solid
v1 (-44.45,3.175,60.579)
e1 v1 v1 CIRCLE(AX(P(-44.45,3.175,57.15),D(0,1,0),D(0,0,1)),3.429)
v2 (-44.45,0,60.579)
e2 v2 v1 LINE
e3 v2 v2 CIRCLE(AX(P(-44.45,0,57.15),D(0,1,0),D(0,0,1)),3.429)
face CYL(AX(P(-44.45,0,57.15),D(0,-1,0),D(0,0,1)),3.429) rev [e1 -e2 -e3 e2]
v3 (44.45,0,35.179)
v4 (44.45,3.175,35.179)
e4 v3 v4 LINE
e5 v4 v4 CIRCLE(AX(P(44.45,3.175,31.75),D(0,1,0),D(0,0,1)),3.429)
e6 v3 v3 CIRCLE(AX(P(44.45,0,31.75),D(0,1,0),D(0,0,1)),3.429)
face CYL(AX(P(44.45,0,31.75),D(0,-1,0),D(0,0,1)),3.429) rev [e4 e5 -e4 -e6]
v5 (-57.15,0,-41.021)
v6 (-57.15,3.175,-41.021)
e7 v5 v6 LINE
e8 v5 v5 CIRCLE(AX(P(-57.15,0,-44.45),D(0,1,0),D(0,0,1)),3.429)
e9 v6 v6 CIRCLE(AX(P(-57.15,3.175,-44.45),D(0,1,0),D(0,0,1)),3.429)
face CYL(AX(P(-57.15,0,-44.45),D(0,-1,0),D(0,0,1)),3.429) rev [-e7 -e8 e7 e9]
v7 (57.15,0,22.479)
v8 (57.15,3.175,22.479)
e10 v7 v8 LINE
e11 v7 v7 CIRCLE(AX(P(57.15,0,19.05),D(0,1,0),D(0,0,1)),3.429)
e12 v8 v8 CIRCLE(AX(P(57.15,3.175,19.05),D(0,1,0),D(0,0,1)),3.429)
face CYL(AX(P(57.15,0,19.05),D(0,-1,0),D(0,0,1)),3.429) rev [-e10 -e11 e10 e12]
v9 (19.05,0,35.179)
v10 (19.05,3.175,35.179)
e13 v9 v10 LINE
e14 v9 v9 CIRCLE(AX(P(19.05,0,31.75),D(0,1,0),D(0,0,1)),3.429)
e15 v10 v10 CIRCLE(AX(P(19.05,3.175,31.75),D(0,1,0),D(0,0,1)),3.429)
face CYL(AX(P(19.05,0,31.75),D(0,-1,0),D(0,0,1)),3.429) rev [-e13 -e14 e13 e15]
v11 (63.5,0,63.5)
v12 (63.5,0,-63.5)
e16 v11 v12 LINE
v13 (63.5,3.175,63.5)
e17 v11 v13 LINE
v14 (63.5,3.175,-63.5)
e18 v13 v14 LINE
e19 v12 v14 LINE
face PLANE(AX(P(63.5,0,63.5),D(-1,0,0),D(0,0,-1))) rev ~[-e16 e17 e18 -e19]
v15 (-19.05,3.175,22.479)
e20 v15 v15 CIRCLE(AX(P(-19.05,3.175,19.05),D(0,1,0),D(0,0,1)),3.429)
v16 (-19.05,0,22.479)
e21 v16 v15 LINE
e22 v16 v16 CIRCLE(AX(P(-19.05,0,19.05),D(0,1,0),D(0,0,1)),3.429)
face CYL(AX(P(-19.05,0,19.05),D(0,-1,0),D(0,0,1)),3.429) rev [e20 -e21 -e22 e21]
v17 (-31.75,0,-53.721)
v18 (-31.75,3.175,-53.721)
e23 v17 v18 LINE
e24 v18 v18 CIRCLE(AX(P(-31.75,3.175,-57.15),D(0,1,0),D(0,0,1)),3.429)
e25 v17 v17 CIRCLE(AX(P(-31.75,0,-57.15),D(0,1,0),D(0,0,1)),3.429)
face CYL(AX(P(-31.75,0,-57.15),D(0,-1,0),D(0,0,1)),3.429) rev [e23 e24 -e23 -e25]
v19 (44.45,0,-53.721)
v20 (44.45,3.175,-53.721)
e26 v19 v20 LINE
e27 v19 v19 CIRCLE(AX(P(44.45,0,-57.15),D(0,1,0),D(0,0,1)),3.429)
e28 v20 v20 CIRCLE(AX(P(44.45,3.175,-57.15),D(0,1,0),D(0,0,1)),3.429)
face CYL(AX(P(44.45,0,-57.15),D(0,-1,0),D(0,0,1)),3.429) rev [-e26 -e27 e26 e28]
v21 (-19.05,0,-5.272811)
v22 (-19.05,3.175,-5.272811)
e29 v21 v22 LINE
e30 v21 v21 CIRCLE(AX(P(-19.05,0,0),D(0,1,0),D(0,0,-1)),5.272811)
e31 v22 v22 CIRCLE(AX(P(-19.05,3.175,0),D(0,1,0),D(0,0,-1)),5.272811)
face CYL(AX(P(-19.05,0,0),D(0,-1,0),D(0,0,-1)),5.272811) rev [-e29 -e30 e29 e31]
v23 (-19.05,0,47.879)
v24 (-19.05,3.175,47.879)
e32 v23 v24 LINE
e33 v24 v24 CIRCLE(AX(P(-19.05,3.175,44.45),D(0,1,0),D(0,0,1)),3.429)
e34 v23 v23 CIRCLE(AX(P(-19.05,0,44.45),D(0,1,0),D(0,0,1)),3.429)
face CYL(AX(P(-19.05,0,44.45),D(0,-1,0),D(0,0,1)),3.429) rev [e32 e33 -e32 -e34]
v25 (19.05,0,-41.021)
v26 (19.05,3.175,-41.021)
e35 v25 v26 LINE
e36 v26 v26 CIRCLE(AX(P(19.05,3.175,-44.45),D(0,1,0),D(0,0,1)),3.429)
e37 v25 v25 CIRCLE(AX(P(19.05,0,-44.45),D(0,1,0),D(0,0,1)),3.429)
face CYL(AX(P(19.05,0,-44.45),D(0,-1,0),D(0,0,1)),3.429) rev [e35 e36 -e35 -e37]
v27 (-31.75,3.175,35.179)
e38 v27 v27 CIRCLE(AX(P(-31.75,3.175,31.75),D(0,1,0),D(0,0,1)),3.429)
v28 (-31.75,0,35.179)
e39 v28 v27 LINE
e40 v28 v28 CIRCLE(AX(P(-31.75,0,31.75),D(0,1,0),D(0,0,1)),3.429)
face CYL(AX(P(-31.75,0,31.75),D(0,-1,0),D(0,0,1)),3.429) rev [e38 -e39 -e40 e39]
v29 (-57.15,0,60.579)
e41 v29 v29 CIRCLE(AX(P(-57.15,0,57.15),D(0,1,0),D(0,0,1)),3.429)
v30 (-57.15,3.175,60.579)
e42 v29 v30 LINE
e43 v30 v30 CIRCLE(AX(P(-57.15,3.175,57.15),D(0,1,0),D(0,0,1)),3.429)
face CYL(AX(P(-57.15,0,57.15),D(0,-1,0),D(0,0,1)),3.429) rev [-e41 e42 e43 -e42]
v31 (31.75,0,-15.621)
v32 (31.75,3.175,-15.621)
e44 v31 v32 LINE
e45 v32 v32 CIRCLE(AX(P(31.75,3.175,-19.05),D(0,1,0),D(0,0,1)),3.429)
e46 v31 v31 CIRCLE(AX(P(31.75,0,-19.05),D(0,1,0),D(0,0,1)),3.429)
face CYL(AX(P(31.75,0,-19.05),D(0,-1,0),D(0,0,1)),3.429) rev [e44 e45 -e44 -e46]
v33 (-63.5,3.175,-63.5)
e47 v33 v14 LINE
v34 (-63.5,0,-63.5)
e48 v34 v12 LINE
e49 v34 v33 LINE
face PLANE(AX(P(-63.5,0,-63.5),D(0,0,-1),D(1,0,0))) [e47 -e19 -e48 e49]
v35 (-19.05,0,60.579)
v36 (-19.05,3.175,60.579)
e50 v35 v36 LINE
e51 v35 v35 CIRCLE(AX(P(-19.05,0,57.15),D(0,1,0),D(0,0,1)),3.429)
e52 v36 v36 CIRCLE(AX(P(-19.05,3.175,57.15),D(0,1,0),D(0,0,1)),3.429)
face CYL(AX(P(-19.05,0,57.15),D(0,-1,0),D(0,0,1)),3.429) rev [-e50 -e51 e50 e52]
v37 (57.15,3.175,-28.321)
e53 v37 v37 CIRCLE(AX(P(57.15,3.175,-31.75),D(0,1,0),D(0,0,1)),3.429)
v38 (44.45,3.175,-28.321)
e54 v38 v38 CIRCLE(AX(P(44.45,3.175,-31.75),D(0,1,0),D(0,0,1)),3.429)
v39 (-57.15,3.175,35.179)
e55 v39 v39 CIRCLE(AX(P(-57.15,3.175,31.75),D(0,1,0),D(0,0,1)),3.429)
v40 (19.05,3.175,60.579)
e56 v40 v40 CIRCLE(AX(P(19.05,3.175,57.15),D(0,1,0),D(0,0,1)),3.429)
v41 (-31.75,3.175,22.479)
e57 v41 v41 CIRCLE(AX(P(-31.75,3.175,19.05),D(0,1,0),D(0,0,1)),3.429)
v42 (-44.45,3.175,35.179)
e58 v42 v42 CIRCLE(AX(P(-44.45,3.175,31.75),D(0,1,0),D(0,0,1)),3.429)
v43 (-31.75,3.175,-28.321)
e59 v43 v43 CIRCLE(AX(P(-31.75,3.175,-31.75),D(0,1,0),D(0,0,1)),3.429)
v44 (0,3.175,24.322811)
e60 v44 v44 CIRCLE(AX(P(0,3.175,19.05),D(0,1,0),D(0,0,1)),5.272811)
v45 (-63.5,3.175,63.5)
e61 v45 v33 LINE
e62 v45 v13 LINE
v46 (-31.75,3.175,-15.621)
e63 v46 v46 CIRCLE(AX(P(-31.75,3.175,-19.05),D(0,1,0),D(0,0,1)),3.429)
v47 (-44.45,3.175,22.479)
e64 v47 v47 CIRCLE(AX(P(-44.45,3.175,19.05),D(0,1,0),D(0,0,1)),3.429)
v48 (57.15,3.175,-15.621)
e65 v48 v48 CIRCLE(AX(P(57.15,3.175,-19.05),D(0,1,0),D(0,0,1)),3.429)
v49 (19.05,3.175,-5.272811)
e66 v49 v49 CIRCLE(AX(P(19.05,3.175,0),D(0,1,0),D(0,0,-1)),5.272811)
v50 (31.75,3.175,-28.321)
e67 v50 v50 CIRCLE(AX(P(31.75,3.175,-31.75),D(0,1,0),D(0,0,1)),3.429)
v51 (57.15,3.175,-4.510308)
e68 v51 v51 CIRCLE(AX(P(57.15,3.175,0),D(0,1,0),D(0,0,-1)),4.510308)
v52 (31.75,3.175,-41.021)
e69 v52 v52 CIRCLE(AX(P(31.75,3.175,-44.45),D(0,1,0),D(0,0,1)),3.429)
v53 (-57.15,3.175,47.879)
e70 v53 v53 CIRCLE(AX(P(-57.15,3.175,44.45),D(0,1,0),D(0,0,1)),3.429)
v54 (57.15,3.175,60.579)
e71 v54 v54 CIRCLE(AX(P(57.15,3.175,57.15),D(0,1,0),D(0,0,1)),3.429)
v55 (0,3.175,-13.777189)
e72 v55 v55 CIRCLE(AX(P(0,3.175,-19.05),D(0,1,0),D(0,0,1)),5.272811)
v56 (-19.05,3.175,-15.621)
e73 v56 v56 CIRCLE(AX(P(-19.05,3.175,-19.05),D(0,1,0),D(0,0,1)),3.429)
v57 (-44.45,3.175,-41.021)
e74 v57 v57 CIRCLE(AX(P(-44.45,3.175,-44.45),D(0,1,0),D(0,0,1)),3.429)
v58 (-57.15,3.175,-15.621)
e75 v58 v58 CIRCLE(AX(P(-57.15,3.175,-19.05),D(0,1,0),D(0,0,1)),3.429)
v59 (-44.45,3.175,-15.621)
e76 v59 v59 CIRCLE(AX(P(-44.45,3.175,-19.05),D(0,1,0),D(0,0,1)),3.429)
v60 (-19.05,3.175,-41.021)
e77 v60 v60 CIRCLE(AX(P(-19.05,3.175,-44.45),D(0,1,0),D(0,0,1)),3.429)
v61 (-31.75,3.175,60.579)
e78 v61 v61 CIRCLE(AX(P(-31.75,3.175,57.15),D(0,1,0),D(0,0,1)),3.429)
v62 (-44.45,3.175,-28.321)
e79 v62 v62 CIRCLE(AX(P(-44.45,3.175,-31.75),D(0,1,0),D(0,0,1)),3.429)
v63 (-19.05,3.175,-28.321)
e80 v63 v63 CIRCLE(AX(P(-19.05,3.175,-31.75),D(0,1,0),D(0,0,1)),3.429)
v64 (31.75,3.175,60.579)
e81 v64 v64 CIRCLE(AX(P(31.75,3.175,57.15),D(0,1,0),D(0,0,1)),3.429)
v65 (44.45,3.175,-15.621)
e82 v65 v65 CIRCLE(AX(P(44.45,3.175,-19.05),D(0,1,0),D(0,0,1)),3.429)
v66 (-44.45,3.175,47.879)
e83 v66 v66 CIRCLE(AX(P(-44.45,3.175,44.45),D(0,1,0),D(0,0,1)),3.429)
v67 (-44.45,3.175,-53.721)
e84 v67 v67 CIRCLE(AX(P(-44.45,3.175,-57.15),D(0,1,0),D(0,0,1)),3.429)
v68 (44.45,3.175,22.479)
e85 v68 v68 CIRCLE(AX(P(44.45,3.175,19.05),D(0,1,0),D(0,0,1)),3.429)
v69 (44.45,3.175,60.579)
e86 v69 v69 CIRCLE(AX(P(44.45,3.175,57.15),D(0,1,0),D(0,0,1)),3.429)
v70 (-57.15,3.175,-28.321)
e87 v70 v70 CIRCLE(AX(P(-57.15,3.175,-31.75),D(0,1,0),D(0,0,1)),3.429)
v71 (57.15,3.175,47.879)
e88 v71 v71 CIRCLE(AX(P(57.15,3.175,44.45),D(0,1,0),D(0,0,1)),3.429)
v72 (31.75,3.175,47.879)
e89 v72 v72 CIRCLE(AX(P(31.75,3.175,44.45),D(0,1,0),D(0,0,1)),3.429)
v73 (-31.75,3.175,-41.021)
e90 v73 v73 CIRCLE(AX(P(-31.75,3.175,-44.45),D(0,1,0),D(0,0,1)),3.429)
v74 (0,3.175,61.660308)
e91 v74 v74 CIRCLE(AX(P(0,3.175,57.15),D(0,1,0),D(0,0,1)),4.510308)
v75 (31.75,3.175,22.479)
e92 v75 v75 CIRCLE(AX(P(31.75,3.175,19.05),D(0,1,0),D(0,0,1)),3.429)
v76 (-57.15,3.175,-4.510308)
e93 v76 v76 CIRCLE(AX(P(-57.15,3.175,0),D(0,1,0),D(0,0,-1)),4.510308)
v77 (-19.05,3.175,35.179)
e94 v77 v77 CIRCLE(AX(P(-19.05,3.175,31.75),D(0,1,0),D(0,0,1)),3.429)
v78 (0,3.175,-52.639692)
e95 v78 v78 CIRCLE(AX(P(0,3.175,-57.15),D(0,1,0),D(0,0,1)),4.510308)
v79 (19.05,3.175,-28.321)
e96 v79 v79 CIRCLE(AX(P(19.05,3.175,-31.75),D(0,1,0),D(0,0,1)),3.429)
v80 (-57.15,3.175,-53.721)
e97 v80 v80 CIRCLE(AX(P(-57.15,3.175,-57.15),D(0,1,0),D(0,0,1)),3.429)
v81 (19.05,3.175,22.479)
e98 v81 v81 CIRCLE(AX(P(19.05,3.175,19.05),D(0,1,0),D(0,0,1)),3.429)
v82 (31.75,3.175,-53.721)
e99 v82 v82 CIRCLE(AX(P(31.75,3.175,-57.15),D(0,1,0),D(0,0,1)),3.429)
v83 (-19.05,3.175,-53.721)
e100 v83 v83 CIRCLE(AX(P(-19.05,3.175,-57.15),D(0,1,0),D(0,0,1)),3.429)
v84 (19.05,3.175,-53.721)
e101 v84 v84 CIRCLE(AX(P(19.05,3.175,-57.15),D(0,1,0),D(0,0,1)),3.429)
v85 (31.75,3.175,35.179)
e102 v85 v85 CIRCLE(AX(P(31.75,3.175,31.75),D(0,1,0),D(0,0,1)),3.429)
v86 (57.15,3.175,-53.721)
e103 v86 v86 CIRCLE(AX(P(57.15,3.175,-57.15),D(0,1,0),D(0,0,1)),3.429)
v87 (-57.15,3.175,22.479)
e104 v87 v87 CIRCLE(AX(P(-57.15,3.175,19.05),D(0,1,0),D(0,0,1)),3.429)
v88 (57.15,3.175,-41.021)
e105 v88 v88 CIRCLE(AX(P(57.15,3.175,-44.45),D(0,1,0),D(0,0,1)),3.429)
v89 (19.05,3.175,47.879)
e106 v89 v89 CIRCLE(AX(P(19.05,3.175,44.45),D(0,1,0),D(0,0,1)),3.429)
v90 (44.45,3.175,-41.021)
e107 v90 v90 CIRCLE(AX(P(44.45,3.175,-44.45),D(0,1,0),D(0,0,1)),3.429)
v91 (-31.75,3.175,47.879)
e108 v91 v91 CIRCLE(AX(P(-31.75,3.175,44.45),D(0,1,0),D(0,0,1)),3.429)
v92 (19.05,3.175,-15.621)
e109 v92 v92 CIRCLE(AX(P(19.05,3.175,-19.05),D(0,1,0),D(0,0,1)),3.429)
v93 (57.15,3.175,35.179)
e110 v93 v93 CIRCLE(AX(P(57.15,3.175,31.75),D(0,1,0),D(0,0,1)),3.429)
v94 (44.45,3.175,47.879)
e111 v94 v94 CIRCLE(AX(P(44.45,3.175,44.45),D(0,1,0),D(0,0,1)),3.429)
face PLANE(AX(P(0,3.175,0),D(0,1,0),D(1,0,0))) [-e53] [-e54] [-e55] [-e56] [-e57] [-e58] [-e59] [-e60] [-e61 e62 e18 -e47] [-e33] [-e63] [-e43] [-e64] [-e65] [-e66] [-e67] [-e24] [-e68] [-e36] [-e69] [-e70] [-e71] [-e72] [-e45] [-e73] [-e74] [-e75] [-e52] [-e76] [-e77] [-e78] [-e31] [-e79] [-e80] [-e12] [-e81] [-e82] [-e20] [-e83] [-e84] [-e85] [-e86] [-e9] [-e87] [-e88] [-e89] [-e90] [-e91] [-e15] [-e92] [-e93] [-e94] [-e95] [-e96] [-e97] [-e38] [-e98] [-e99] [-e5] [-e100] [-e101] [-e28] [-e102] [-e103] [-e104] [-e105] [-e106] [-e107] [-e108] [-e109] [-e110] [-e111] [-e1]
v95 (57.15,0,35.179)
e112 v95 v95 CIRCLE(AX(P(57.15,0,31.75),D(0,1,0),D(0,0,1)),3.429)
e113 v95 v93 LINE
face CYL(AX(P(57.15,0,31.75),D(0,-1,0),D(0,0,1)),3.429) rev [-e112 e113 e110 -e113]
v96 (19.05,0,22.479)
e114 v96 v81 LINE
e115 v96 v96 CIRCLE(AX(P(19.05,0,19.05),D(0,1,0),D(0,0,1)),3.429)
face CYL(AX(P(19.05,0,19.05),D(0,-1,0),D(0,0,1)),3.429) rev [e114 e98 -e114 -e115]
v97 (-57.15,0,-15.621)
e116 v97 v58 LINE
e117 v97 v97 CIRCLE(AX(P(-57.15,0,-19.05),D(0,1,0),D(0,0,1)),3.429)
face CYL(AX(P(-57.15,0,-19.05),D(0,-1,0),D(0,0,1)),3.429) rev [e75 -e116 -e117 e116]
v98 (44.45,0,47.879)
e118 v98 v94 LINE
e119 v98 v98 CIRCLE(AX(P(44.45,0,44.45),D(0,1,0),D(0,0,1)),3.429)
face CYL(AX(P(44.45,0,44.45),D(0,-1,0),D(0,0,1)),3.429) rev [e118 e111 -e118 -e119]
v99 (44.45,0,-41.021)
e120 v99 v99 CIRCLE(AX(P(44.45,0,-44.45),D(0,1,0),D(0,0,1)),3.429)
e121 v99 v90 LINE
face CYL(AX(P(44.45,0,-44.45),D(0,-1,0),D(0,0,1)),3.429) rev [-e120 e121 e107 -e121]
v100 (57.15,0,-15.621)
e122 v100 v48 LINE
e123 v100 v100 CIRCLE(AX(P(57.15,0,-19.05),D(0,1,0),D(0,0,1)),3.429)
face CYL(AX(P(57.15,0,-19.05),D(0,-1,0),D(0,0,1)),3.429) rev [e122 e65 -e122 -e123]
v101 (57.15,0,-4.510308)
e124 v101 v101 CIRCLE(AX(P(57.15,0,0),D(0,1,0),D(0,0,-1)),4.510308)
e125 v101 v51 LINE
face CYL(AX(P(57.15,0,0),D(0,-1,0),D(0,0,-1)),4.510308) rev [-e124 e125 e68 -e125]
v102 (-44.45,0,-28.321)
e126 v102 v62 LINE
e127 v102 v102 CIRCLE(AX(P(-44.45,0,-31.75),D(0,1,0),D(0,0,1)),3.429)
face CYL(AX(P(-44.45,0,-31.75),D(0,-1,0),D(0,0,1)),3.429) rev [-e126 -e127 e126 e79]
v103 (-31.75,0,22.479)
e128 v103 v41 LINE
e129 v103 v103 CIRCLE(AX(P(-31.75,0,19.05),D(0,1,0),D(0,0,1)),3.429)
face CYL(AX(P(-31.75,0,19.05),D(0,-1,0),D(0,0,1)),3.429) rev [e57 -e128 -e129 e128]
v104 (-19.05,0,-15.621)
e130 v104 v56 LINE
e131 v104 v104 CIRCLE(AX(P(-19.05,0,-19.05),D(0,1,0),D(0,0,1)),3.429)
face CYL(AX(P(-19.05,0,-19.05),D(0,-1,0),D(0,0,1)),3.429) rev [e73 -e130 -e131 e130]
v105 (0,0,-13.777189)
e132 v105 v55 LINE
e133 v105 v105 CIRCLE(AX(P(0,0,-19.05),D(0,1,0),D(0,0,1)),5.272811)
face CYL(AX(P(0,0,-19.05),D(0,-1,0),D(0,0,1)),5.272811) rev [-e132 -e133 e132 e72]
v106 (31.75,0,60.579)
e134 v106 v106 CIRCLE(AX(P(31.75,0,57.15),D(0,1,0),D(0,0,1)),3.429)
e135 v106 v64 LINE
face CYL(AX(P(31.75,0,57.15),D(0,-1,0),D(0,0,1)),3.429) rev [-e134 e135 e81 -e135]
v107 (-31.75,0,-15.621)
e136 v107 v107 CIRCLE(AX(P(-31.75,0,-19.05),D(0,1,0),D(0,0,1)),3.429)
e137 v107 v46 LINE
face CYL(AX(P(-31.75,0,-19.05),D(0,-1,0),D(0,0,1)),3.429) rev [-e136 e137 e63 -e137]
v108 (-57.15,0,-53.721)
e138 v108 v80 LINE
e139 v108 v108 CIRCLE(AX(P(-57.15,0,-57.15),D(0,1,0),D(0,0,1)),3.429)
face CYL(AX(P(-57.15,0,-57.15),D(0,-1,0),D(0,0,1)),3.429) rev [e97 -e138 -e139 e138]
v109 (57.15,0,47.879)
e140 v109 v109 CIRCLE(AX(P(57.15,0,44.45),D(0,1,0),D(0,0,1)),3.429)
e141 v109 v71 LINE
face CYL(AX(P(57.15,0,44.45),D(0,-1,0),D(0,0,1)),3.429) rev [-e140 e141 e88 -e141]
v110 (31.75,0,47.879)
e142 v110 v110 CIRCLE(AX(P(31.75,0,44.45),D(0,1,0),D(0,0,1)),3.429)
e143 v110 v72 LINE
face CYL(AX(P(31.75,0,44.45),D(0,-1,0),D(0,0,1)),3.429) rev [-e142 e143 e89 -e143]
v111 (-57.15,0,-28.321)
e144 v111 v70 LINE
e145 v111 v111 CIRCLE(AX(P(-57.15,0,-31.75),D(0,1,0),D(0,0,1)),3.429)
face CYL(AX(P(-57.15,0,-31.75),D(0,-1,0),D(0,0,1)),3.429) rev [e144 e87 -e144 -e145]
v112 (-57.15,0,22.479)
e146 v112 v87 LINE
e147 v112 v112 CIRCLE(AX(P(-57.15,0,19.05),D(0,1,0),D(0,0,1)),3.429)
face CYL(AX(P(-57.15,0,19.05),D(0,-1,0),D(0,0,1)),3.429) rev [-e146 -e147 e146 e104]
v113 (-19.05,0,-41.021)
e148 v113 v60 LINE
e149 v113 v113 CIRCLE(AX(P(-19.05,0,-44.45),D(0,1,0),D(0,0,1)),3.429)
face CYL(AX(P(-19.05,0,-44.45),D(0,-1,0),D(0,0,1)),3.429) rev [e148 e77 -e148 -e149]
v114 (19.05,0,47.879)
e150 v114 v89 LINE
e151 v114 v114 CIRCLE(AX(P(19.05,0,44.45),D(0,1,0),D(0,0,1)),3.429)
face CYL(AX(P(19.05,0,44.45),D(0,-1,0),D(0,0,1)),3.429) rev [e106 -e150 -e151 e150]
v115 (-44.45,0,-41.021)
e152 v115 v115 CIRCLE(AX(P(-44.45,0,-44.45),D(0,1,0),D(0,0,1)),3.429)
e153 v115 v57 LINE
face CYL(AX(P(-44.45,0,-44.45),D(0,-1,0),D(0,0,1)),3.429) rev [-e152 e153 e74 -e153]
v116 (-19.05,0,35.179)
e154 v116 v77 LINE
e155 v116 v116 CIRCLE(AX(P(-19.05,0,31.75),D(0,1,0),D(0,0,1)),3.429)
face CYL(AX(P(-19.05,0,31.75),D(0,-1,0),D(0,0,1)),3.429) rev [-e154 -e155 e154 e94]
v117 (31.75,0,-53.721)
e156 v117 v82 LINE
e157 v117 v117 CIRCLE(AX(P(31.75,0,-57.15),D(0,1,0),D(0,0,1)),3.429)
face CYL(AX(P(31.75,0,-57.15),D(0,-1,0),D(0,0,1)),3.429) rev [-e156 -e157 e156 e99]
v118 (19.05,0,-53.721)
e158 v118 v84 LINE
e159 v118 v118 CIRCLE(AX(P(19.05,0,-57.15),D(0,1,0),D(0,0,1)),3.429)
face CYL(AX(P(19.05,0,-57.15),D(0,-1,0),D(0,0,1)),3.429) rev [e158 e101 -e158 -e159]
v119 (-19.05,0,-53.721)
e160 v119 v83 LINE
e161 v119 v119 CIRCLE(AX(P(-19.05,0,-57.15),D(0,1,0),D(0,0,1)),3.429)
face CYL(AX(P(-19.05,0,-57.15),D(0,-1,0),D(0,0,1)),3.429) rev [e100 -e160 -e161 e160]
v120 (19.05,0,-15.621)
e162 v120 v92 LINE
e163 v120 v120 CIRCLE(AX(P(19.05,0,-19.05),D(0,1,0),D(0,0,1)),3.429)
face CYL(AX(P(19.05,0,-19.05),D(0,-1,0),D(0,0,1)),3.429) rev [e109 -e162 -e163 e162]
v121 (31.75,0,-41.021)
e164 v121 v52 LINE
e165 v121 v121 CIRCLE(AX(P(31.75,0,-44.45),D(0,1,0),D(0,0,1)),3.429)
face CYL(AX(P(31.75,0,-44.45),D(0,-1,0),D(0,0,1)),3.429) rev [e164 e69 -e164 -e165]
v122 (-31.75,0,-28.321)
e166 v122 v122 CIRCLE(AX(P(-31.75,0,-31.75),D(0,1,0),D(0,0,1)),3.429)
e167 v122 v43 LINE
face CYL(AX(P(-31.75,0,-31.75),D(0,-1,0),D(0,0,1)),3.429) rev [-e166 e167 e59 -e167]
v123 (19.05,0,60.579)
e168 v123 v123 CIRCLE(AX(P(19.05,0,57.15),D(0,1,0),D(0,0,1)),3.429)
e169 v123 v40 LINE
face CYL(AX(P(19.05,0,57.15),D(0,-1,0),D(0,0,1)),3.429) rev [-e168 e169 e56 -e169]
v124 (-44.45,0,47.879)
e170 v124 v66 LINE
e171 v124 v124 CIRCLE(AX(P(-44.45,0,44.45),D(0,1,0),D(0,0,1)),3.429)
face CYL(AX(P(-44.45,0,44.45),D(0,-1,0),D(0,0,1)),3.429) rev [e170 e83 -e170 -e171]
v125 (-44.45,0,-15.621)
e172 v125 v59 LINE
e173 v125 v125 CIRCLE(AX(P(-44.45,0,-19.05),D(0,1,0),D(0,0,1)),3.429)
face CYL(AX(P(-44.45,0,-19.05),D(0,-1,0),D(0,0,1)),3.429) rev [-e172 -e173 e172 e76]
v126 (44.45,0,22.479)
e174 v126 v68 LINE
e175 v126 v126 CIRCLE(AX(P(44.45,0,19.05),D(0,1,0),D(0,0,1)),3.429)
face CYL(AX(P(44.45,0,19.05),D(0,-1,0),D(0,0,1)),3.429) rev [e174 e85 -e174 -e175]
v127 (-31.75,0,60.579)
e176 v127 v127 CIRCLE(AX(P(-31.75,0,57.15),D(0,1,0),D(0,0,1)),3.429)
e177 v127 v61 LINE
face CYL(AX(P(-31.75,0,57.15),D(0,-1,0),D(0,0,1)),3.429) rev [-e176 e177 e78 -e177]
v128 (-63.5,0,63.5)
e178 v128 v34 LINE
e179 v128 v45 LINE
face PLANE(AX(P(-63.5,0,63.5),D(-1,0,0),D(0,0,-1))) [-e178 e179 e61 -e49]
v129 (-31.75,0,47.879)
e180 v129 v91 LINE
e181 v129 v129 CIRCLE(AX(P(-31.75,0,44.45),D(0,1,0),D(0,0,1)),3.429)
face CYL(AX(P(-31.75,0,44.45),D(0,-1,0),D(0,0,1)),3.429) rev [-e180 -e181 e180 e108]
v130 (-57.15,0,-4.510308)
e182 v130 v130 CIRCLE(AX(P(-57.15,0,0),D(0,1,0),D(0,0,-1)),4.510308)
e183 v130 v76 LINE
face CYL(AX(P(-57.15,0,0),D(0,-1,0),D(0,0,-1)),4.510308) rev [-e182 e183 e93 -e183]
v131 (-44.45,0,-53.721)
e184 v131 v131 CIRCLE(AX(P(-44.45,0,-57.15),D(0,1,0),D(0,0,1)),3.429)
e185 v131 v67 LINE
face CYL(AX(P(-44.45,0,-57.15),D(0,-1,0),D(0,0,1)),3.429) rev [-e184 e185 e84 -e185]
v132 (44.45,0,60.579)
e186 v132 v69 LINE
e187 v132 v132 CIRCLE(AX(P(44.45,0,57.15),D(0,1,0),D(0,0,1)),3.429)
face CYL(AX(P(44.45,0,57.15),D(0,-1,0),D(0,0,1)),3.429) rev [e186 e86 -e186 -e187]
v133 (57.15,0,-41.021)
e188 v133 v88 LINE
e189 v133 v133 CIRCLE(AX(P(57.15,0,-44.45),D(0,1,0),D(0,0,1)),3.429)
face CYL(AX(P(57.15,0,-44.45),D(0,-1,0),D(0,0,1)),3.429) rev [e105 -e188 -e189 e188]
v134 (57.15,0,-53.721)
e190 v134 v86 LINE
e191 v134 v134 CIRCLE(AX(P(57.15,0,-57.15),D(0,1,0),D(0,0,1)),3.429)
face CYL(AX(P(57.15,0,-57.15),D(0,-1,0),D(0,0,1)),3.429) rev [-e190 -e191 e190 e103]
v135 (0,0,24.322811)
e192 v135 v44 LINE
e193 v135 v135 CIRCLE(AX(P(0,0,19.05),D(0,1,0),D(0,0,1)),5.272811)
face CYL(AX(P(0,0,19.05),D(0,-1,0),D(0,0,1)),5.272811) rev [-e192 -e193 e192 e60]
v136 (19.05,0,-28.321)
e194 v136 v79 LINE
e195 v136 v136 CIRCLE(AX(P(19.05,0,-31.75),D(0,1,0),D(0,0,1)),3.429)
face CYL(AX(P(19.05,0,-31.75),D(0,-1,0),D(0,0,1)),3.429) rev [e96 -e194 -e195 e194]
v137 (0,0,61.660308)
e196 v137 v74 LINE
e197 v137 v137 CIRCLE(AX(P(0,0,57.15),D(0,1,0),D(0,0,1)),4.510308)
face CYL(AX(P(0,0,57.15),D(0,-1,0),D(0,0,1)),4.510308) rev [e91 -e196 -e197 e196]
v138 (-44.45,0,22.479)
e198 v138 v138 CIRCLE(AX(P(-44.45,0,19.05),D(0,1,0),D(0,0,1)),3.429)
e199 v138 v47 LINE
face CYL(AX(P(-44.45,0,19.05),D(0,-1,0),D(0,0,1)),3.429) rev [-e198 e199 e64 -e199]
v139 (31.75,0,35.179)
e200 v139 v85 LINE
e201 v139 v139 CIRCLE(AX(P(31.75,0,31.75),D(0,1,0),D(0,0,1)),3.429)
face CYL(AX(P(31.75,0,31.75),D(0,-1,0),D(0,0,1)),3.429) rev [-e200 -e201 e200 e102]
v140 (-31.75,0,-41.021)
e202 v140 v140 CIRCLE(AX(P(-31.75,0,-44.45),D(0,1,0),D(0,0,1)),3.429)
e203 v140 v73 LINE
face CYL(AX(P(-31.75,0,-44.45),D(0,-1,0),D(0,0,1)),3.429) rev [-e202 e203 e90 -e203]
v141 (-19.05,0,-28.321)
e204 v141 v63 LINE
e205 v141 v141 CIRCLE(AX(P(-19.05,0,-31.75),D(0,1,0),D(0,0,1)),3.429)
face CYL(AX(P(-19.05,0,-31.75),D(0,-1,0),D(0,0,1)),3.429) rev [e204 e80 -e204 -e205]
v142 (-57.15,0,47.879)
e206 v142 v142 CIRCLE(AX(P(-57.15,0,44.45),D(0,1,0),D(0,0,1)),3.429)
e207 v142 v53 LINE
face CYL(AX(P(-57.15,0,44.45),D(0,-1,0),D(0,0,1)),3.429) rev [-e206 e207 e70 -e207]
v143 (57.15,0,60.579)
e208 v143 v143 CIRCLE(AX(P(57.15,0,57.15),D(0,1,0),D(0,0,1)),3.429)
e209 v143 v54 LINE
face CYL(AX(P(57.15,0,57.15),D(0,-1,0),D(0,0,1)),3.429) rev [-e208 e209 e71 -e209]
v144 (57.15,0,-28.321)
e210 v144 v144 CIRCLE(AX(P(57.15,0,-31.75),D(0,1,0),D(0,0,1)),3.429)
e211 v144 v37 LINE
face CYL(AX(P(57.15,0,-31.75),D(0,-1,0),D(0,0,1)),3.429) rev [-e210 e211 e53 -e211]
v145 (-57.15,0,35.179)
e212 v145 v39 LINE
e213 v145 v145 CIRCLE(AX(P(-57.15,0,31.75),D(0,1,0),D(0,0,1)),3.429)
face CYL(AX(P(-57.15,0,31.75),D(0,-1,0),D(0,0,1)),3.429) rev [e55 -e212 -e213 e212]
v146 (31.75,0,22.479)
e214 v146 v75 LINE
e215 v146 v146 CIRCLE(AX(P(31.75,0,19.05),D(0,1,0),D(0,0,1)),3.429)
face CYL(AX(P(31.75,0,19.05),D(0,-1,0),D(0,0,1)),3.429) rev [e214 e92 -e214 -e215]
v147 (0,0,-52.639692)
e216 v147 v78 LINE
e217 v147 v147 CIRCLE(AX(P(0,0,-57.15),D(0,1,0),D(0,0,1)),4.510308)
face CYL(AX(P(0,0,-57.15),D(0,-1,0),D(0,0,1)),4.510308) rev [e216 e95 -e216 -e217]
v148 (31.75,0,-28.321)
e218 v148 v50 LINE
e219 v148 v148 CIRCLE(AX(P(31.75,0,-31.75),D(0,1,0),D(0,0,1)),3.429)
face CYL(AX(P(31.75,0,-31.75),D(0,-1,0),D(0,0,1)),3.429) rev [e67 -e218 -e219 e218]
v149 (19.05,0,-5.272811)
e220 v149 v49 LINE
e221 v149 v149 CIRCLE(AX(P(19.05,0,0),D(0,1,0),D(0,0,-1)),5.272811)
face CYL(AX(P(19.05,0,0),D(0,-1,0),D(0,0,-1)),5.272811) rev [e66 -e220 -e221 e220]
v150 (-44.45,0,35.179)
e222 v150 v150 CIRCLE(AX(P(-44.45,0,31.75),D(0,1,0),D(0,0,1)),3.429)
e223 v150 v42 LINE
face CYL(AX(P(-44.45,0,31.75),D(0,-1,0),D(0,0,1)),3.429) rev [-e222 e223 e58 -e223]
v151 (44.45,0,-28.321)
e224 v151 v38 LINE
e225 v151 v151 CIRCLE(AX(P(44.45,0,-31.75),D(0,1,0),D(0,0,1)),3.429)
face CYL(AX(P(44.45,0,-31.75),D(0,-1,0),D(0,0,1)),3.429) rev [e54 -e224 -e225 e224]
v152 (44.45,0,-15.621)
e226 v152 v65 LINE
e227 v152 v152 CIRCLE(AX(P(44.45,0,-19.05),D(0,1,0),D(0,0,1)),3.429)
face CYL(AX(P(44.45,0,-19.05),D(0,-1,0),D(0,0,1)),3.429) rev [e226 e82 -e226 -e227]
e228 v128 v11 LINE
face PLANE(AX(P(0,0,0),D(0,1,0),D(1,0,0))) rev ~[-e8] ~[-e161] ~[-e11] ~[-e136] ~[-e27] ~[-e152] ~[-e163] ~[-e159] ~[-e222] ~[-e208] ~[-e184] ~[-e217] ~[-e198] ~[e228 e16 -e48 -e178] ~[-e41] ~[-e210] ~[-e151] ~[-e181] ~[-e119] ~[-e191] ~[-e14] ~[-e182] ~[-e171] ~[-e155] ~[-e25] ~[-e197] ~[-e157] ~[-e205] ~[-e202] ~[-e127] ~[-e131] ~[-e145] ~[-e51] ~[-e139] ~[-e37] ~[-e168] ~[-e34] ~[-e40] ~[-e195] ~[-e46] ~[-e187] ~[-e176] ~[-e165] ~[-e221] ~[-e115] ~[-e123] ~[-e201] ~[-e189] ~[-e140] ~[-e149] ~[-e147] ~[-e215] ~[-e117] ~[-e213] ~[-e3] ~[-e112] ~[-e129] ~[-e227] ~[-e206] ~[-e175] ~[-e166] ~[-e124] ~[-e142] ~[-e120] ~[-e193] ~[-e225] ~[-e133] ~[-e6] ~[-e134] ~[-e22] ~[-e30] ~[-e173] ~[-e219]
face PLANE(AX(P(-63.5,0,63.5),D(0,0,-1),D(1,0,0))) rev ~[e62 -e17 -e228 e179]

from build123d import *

# Parameters (mm, degrees)
SKETCH1_W           = 127
SKETCH1_H           = 127
SKETCH1_R           = 5.272810933
SKETCH1_R_2         = 4.510308164
SKETCH1_R_3         = 3.429
BOSS_EXTRUDE1_DEPTH = 3.175


with BuildPart() as part:
    # Sketch1 → Boss-Extrude1 (new body)
    with BuildSketch(Plane(origin=(0, 0, 0), x_dir=(1, 0, 0), z_dir=(0, 1, 0))):
        Rectangle(SKETCH1_W, SKETCH1_H)
        with Locations(Location((0, 19.05, 0), (0, 0, 270))):
            Circle(SKETCH1_R, mode=Mode.SUBTRACT)
        with Locations(Location((0, 57.15, 0), (0, 0, 270))):
            Circle(SKETCH1_R_2, mode=Mode.SUBTRACT)
        with Locations(Location((57.15, 0, 0), (0, 0, 90))):
            Circle(SKETCH1_R_2, mode=Mode.SUBTRACT)
        with Locations(Location((19.05, 0, 0), (0, 0, 90))):
            Circle(SKETCH1_R, mode=Mode.SUBTRACT)
        with Locations(Location((0, -19.05, 0), (0, 0, 270))):
            Circle(SKETCH1_R, mode=Mode.SUBTRACT)
        with Locations(Location((0, -57.15, 0), (0, 0, 270))):
            Circle(SKETCH1_R_2, mode=Mode.SUBTRACT)
        with Locations(Location((-57.15, 0, 0), (0, 0, 90))):
            Circle(SKETCH1_R_2, mode=Mode.SUBTRACT)
        with Locations(Location((-19.05, 0, 0), (0, 0, 90))):
            Circle(SKETCH1_R, mode=Mode.SUBTRACT)
        with Locations(Location((-57.15, 57.15, 0), (0, 0, 270))):
            Circle(SKETCH1_R_3, mode=Mode.SUBTRACT)
        with Locations(Location((-44.45, 57.15, 0), (0, 0, 270))):
            Circle(SKETCH1_R_3, mode=Mode.SUBTRACT)
        with Locations(Location((-31.75, 57.15, 0), (0, 0, 270))):
            Circle(SKETCH1_R_3, mode=Mode.SUBTRACT)
        with Locations(Location((-19.05, 57.15, 0), (0, 0, 270))):
            Circle(SKETCH1_R_3, mode=Mode.SUBTRACT)
        with Locations(Location((19.05, 57.15, 0), (0, 0, 270))):
            Circle(SKETCH1_R_3, mode=Mode.SUBTRACT)
        with Locations(Location((31.75, 57.15, 0), (0, 0, 270))):
            Circle(SKETCH1_R_3, mode=Mode.SUBTRACT)
        with Locations(Location((44.45, 57.15, 0), (0, 0, 270))):
            Circle(SKETCH1_R_3, mode=Mode.SUBTRACT)
        with Locations(Location((57.15, 57.15, 0), (0, 0, 270))):
            Circle(SKETCH1_R_3, mode=Mode.SUBTRACT)
        with Locations(Location((-44.45, 44.45, 0), (0, 0, 270))):
            Circle(SKETCH1_R_3, mode=Mode.SUBTRACT)
        with Locations(Location((-31.75, 44.45, 0), (0, 0, 270))):
            Circle(SKETCH1_R_3, mode=Mode.SUBTRACT)
        with Locations(Location((-19.05, 44.45, 0), (0, 0, 270))):
            Circle(SKETCH1_R_3, mode=Mode.SUBTRACT)
        with Locations(Location((19.05, 44.45, 0), (0, 0, 270))):
            Circle(SKETCH1_R_3, mode=Mode.SUBTRACT)
        with Locations(Location((31.75, 44.45, 0), (0, 0, 270))):
            Circle(SKETCH1_R_3, mode=Mode.SUBTRACT)
        with Locations(Location((44.45, 44.45, 0), (0, 0, 270))):
            Circle(SKETCH1_R_3, mode=Mode.SUBTRACT)
        with Locations(Location((57.15, 44.45, 0), (0, 0, 270))):
            Circle(SKETCH1_R_3, mode=Mode.SUBTRACT)
        with Locations(Location((-44.45, 31.75, 0), (0, 0, 270))):
            Circle(SKETCH1_R_3, mode=Mode.SUBTRACT)
        with Locations(Location((-31.75, 31.75, 0), (0, 0, 270))):
            Circle(SKETCH1_R_3, mode=Mode.SUBTRACT)
        with Locations(Location((-19.05, 31.75, 0), (0, 0, 270))):
            Circle(SKETCH1_R_3, mode=Mode.SUBTRACT)
        with Locations(Location((19.05, 31.75, 0), (0, 0, 270))):
            Circle(SKETCH1_R_3, mode=Mode.SUBTRACT)
        with Locations(Location((31.75, 31.75, 0), (0, 0, 270))):
            Circle(SKETCH1_R_3, mode=Mode.SUBTRACT)
        with Locations(Location((44.45, 31.75, 0), (0, 0, 270))):
            Circle(SKETCH1_R_3, mode=Mode.SUBTRACT)
        with Locations(Location((57.15, 31.75, 0), (0, 0, 270))):
            Circle(SKETCH1_R_3, mode=Mode.SUBTRACT)
        with Locations(Location((-44.45, 19.05, 0), (0, 0, 270))):
            Circle(SKETCH1_R_3, mode=Mode.SUBTRACT)
        with Locations(Location((-31.75, 19.05, 0), (0, 0, 270))):
            Circle(SKETCH1_R_3, mode=Mode.SUBTRACT)
        with Locations(Location((-19.05, 19.05, 0), (0, 0, 270))):
            Circle(SKETCH1_R_3, mode=Mode.SUBTRACT)
        with Locations(Location((19.05, 19.05, 0), (0, 0, 270))):
            Circle(SKETCH1_R_3, mode=Mode.SUBTRACT)
        with Locations(Location((31.75, 19.05, 0), (0, 0, 270))):
            Circle(SKETCH1_R_3, mode=Mode.SUBTRACT)
        with Locations(Location((44.45, 19.05, 0), (0, 0, 270))):
            Circle(SKETCH1_R_3, mode=Mode.SUBTRACT)
        with Locations(Location((57.15, 19.05, 0), (0, 0, 270))):
            Circle(SKETCH1_R_3, mode=Mode.SUBTRACT)
        with Locations(Location((-44.45, -19.05, 0), (0, 0, 270))):
            Circle(SKETCH1_R_3, mode=Mode.SUBTRACT)
        with Locations(Location((-31.75, -19.05, 0), (0, 0, 270))):
            Circle(SKETCH1_R_3, mode=Mode.SUBTRACT)
        with Locations(Location((-19.05, -19.05, 0), (0, 0, 270))):
            Circle(SKETCH1_R_3, mode=Mode.SUBTRACT)
        with Locations(Location((19.05, -19.05, 0), (0, 0, 270))):
            Circle(SKETCH1_R_3, mode=Mode.SUBTRACT)
        with Locations(Location((31.75, -19.05, 0), (0, 0, 270))):
            Circle(SKETCH1_R_3, mode=Mode.SUBTRACT)
        with Locations(Location((44.45, -19.05, 0), (0, 0, 270))):
            Circle(SKETCH1_R_3, mode=Mode.SUBTRACT)
        with Locations(Location((57.15, -19.05, 0), (0, 0, 270))):
            Circle(SKETCH1_R_3, mode=Mode.SUBTRACT)
        with Locations(Location((-44.45, -31.75, 0), (0, 0, 270))):
            Circle(SKETCH1_R_3, mode=Mode.SUBTRACT)
        with Locations(Location((-31.75, -31.75, 0), (0, 0, 270))):
            Circle(SKETCH1_R_3, mode=Mode.SUBTRACT)
        with Locations(Location((-19.05, -31.75, 0), (0, 0, 270))):
            Circle(SKETCH1_R_3, mode=Mode.SUBTRACT)
        with Locations(Location((19.05, -31.75, 0), (0, 0, 270))):
            Circle(SKETCH1_R_3, mode=Mode.SUBTRACT)
        with Locations(Location((31.75, -31.75, 0), (0, 0, 270))):
            Circle(SKETCH1_R_3, mode=Mode.SUBTRACT)
        with Locations(Location((44.45, -31.75, 0), (0, 0, 270))):
            Circle(SKETCH1_R_3, mode=Mode.SUBTRACT)
        with Locations(Location((57.15, -31.75, 0), (0, 0, 270))):
            Circle(SKETCH1_R_3, mode=Mode.SUBTRACT)
        with Locations(Location((-44.45, -44.45, 0), (0, 0, 270))):
            Circle(SKETCH1_R_3, mode=Mode.SUBTRACT)
        with Locations(Location((-31.75, -44.45, 0), (0, 0, 270))):
            Circle(SKETCH1_R_3, mode=Mode.SUBTRACT)
        with Locations(Location((-19.05, -44.45, 0), (0, 0, 270))):
            Circle(SKETCH1_R_3, mode=Mode.SUBTRACT)
        with Locations(Location((19.05, -44.45, 0), (0, 0, 270))):
            Circle(SKETCH1_R_3, mode=Mode.SUBTRACT)
        with Locations(Location((31.75, -44.45, 0), (0, 0, 270))):
            Circle(SKETCH1_R_3, mode=Mode.SUBTRACT)
        with Locations(Location((44.45, -44.45, 0), (0, 0, 270))):
            Circle(SKETCH1_R_3, mode=Mode.SUBTRACT)
        with Locations(Location((57.15, -44.45, 0), (0, 0, 270))):
            Circle(SKETCH1_R_3, mode=Mode.SUBTRACT)
        with Locations(Location((-44.45, -57.15, 0), (0, 0, 270))):
            Circle(SKETCH1_R_3, mode=Mode.SUBTRACT)
        with Locations(Location((-31.75, -57.15, 0), (0, 0, 270))):
            Circle(SKETCH1_R_3, mode=Mode.SUBTRACT)
        with Locations(Location((-19.05, -57.15, 0), (0, 0, 270))):
            Circle(SKETCH1_R_3, mode=Mode.SUBTRACT)
        with Locations(Location((19.05, -57.15, 0), (0, 0, 270))):
            Circle(SKETCH1_R_3, mode=Mode.SUBTRACT)
        with Locations(Location((31.75, -57.15, 0), (0, 0, 270))):
            Circle(SKETCH1_R_3, mode=Mode.SUBTRACT)
        with Locations(Location((44.45, -57.15, 0), (0, 0, 270))):
            Circle(SKETCH1_R_3, mode=Mode.SUBTRACT)
        with Locations(Location((57.15, -57.15, 0), (0, 0, 270))):
            Circle(SKETCH1_R_3, mode=Mode.SUBTRACT)
        with Locations(Location((-57.15, 44.45, 0), (0, 0, 270))):
            Circle(SKETCH1_R_3, mode=Mode.SUBTRACT)
        with Locations(Location((-57.15, 31.75, 0), (0, 0, 270))):
            Circle(SKETCH1_R_3, mode=Mode.SUBTRACT)
        with Locations(Location((-57.15, 19.05, 0), (0, 0, 270))):
            Circle(SKETCH1_R_3, mode=Mode.SUBTRACT)
        with Locations(Location((-57.15, -19.05, 0), (0, 0, 270))):
            Circle(SKETCH1_R_3, mode=Mode.SUBTRACT)
        with Locations(Location((-57.15, -31.75, 0), (0, 0, 270))):
            Circle(SKETCH1_R_3, mode=Mode.SUBTRACT)
        with Locations(Location((-57.15, -44.45, 0), (0, 0, 270))):
            Circle(SKETCH1_R_3, mode=Mode.SUBTRACT)
        with Locations(Location((-57.15, -57.15, 0), (0, 0, 270))):
            Circle(SKETCH1_R_3, mode=Mode.SUBTRACT)
    extrude(amount=BOSS_EXTRUDE1_DEPTH)


solid = part.part
